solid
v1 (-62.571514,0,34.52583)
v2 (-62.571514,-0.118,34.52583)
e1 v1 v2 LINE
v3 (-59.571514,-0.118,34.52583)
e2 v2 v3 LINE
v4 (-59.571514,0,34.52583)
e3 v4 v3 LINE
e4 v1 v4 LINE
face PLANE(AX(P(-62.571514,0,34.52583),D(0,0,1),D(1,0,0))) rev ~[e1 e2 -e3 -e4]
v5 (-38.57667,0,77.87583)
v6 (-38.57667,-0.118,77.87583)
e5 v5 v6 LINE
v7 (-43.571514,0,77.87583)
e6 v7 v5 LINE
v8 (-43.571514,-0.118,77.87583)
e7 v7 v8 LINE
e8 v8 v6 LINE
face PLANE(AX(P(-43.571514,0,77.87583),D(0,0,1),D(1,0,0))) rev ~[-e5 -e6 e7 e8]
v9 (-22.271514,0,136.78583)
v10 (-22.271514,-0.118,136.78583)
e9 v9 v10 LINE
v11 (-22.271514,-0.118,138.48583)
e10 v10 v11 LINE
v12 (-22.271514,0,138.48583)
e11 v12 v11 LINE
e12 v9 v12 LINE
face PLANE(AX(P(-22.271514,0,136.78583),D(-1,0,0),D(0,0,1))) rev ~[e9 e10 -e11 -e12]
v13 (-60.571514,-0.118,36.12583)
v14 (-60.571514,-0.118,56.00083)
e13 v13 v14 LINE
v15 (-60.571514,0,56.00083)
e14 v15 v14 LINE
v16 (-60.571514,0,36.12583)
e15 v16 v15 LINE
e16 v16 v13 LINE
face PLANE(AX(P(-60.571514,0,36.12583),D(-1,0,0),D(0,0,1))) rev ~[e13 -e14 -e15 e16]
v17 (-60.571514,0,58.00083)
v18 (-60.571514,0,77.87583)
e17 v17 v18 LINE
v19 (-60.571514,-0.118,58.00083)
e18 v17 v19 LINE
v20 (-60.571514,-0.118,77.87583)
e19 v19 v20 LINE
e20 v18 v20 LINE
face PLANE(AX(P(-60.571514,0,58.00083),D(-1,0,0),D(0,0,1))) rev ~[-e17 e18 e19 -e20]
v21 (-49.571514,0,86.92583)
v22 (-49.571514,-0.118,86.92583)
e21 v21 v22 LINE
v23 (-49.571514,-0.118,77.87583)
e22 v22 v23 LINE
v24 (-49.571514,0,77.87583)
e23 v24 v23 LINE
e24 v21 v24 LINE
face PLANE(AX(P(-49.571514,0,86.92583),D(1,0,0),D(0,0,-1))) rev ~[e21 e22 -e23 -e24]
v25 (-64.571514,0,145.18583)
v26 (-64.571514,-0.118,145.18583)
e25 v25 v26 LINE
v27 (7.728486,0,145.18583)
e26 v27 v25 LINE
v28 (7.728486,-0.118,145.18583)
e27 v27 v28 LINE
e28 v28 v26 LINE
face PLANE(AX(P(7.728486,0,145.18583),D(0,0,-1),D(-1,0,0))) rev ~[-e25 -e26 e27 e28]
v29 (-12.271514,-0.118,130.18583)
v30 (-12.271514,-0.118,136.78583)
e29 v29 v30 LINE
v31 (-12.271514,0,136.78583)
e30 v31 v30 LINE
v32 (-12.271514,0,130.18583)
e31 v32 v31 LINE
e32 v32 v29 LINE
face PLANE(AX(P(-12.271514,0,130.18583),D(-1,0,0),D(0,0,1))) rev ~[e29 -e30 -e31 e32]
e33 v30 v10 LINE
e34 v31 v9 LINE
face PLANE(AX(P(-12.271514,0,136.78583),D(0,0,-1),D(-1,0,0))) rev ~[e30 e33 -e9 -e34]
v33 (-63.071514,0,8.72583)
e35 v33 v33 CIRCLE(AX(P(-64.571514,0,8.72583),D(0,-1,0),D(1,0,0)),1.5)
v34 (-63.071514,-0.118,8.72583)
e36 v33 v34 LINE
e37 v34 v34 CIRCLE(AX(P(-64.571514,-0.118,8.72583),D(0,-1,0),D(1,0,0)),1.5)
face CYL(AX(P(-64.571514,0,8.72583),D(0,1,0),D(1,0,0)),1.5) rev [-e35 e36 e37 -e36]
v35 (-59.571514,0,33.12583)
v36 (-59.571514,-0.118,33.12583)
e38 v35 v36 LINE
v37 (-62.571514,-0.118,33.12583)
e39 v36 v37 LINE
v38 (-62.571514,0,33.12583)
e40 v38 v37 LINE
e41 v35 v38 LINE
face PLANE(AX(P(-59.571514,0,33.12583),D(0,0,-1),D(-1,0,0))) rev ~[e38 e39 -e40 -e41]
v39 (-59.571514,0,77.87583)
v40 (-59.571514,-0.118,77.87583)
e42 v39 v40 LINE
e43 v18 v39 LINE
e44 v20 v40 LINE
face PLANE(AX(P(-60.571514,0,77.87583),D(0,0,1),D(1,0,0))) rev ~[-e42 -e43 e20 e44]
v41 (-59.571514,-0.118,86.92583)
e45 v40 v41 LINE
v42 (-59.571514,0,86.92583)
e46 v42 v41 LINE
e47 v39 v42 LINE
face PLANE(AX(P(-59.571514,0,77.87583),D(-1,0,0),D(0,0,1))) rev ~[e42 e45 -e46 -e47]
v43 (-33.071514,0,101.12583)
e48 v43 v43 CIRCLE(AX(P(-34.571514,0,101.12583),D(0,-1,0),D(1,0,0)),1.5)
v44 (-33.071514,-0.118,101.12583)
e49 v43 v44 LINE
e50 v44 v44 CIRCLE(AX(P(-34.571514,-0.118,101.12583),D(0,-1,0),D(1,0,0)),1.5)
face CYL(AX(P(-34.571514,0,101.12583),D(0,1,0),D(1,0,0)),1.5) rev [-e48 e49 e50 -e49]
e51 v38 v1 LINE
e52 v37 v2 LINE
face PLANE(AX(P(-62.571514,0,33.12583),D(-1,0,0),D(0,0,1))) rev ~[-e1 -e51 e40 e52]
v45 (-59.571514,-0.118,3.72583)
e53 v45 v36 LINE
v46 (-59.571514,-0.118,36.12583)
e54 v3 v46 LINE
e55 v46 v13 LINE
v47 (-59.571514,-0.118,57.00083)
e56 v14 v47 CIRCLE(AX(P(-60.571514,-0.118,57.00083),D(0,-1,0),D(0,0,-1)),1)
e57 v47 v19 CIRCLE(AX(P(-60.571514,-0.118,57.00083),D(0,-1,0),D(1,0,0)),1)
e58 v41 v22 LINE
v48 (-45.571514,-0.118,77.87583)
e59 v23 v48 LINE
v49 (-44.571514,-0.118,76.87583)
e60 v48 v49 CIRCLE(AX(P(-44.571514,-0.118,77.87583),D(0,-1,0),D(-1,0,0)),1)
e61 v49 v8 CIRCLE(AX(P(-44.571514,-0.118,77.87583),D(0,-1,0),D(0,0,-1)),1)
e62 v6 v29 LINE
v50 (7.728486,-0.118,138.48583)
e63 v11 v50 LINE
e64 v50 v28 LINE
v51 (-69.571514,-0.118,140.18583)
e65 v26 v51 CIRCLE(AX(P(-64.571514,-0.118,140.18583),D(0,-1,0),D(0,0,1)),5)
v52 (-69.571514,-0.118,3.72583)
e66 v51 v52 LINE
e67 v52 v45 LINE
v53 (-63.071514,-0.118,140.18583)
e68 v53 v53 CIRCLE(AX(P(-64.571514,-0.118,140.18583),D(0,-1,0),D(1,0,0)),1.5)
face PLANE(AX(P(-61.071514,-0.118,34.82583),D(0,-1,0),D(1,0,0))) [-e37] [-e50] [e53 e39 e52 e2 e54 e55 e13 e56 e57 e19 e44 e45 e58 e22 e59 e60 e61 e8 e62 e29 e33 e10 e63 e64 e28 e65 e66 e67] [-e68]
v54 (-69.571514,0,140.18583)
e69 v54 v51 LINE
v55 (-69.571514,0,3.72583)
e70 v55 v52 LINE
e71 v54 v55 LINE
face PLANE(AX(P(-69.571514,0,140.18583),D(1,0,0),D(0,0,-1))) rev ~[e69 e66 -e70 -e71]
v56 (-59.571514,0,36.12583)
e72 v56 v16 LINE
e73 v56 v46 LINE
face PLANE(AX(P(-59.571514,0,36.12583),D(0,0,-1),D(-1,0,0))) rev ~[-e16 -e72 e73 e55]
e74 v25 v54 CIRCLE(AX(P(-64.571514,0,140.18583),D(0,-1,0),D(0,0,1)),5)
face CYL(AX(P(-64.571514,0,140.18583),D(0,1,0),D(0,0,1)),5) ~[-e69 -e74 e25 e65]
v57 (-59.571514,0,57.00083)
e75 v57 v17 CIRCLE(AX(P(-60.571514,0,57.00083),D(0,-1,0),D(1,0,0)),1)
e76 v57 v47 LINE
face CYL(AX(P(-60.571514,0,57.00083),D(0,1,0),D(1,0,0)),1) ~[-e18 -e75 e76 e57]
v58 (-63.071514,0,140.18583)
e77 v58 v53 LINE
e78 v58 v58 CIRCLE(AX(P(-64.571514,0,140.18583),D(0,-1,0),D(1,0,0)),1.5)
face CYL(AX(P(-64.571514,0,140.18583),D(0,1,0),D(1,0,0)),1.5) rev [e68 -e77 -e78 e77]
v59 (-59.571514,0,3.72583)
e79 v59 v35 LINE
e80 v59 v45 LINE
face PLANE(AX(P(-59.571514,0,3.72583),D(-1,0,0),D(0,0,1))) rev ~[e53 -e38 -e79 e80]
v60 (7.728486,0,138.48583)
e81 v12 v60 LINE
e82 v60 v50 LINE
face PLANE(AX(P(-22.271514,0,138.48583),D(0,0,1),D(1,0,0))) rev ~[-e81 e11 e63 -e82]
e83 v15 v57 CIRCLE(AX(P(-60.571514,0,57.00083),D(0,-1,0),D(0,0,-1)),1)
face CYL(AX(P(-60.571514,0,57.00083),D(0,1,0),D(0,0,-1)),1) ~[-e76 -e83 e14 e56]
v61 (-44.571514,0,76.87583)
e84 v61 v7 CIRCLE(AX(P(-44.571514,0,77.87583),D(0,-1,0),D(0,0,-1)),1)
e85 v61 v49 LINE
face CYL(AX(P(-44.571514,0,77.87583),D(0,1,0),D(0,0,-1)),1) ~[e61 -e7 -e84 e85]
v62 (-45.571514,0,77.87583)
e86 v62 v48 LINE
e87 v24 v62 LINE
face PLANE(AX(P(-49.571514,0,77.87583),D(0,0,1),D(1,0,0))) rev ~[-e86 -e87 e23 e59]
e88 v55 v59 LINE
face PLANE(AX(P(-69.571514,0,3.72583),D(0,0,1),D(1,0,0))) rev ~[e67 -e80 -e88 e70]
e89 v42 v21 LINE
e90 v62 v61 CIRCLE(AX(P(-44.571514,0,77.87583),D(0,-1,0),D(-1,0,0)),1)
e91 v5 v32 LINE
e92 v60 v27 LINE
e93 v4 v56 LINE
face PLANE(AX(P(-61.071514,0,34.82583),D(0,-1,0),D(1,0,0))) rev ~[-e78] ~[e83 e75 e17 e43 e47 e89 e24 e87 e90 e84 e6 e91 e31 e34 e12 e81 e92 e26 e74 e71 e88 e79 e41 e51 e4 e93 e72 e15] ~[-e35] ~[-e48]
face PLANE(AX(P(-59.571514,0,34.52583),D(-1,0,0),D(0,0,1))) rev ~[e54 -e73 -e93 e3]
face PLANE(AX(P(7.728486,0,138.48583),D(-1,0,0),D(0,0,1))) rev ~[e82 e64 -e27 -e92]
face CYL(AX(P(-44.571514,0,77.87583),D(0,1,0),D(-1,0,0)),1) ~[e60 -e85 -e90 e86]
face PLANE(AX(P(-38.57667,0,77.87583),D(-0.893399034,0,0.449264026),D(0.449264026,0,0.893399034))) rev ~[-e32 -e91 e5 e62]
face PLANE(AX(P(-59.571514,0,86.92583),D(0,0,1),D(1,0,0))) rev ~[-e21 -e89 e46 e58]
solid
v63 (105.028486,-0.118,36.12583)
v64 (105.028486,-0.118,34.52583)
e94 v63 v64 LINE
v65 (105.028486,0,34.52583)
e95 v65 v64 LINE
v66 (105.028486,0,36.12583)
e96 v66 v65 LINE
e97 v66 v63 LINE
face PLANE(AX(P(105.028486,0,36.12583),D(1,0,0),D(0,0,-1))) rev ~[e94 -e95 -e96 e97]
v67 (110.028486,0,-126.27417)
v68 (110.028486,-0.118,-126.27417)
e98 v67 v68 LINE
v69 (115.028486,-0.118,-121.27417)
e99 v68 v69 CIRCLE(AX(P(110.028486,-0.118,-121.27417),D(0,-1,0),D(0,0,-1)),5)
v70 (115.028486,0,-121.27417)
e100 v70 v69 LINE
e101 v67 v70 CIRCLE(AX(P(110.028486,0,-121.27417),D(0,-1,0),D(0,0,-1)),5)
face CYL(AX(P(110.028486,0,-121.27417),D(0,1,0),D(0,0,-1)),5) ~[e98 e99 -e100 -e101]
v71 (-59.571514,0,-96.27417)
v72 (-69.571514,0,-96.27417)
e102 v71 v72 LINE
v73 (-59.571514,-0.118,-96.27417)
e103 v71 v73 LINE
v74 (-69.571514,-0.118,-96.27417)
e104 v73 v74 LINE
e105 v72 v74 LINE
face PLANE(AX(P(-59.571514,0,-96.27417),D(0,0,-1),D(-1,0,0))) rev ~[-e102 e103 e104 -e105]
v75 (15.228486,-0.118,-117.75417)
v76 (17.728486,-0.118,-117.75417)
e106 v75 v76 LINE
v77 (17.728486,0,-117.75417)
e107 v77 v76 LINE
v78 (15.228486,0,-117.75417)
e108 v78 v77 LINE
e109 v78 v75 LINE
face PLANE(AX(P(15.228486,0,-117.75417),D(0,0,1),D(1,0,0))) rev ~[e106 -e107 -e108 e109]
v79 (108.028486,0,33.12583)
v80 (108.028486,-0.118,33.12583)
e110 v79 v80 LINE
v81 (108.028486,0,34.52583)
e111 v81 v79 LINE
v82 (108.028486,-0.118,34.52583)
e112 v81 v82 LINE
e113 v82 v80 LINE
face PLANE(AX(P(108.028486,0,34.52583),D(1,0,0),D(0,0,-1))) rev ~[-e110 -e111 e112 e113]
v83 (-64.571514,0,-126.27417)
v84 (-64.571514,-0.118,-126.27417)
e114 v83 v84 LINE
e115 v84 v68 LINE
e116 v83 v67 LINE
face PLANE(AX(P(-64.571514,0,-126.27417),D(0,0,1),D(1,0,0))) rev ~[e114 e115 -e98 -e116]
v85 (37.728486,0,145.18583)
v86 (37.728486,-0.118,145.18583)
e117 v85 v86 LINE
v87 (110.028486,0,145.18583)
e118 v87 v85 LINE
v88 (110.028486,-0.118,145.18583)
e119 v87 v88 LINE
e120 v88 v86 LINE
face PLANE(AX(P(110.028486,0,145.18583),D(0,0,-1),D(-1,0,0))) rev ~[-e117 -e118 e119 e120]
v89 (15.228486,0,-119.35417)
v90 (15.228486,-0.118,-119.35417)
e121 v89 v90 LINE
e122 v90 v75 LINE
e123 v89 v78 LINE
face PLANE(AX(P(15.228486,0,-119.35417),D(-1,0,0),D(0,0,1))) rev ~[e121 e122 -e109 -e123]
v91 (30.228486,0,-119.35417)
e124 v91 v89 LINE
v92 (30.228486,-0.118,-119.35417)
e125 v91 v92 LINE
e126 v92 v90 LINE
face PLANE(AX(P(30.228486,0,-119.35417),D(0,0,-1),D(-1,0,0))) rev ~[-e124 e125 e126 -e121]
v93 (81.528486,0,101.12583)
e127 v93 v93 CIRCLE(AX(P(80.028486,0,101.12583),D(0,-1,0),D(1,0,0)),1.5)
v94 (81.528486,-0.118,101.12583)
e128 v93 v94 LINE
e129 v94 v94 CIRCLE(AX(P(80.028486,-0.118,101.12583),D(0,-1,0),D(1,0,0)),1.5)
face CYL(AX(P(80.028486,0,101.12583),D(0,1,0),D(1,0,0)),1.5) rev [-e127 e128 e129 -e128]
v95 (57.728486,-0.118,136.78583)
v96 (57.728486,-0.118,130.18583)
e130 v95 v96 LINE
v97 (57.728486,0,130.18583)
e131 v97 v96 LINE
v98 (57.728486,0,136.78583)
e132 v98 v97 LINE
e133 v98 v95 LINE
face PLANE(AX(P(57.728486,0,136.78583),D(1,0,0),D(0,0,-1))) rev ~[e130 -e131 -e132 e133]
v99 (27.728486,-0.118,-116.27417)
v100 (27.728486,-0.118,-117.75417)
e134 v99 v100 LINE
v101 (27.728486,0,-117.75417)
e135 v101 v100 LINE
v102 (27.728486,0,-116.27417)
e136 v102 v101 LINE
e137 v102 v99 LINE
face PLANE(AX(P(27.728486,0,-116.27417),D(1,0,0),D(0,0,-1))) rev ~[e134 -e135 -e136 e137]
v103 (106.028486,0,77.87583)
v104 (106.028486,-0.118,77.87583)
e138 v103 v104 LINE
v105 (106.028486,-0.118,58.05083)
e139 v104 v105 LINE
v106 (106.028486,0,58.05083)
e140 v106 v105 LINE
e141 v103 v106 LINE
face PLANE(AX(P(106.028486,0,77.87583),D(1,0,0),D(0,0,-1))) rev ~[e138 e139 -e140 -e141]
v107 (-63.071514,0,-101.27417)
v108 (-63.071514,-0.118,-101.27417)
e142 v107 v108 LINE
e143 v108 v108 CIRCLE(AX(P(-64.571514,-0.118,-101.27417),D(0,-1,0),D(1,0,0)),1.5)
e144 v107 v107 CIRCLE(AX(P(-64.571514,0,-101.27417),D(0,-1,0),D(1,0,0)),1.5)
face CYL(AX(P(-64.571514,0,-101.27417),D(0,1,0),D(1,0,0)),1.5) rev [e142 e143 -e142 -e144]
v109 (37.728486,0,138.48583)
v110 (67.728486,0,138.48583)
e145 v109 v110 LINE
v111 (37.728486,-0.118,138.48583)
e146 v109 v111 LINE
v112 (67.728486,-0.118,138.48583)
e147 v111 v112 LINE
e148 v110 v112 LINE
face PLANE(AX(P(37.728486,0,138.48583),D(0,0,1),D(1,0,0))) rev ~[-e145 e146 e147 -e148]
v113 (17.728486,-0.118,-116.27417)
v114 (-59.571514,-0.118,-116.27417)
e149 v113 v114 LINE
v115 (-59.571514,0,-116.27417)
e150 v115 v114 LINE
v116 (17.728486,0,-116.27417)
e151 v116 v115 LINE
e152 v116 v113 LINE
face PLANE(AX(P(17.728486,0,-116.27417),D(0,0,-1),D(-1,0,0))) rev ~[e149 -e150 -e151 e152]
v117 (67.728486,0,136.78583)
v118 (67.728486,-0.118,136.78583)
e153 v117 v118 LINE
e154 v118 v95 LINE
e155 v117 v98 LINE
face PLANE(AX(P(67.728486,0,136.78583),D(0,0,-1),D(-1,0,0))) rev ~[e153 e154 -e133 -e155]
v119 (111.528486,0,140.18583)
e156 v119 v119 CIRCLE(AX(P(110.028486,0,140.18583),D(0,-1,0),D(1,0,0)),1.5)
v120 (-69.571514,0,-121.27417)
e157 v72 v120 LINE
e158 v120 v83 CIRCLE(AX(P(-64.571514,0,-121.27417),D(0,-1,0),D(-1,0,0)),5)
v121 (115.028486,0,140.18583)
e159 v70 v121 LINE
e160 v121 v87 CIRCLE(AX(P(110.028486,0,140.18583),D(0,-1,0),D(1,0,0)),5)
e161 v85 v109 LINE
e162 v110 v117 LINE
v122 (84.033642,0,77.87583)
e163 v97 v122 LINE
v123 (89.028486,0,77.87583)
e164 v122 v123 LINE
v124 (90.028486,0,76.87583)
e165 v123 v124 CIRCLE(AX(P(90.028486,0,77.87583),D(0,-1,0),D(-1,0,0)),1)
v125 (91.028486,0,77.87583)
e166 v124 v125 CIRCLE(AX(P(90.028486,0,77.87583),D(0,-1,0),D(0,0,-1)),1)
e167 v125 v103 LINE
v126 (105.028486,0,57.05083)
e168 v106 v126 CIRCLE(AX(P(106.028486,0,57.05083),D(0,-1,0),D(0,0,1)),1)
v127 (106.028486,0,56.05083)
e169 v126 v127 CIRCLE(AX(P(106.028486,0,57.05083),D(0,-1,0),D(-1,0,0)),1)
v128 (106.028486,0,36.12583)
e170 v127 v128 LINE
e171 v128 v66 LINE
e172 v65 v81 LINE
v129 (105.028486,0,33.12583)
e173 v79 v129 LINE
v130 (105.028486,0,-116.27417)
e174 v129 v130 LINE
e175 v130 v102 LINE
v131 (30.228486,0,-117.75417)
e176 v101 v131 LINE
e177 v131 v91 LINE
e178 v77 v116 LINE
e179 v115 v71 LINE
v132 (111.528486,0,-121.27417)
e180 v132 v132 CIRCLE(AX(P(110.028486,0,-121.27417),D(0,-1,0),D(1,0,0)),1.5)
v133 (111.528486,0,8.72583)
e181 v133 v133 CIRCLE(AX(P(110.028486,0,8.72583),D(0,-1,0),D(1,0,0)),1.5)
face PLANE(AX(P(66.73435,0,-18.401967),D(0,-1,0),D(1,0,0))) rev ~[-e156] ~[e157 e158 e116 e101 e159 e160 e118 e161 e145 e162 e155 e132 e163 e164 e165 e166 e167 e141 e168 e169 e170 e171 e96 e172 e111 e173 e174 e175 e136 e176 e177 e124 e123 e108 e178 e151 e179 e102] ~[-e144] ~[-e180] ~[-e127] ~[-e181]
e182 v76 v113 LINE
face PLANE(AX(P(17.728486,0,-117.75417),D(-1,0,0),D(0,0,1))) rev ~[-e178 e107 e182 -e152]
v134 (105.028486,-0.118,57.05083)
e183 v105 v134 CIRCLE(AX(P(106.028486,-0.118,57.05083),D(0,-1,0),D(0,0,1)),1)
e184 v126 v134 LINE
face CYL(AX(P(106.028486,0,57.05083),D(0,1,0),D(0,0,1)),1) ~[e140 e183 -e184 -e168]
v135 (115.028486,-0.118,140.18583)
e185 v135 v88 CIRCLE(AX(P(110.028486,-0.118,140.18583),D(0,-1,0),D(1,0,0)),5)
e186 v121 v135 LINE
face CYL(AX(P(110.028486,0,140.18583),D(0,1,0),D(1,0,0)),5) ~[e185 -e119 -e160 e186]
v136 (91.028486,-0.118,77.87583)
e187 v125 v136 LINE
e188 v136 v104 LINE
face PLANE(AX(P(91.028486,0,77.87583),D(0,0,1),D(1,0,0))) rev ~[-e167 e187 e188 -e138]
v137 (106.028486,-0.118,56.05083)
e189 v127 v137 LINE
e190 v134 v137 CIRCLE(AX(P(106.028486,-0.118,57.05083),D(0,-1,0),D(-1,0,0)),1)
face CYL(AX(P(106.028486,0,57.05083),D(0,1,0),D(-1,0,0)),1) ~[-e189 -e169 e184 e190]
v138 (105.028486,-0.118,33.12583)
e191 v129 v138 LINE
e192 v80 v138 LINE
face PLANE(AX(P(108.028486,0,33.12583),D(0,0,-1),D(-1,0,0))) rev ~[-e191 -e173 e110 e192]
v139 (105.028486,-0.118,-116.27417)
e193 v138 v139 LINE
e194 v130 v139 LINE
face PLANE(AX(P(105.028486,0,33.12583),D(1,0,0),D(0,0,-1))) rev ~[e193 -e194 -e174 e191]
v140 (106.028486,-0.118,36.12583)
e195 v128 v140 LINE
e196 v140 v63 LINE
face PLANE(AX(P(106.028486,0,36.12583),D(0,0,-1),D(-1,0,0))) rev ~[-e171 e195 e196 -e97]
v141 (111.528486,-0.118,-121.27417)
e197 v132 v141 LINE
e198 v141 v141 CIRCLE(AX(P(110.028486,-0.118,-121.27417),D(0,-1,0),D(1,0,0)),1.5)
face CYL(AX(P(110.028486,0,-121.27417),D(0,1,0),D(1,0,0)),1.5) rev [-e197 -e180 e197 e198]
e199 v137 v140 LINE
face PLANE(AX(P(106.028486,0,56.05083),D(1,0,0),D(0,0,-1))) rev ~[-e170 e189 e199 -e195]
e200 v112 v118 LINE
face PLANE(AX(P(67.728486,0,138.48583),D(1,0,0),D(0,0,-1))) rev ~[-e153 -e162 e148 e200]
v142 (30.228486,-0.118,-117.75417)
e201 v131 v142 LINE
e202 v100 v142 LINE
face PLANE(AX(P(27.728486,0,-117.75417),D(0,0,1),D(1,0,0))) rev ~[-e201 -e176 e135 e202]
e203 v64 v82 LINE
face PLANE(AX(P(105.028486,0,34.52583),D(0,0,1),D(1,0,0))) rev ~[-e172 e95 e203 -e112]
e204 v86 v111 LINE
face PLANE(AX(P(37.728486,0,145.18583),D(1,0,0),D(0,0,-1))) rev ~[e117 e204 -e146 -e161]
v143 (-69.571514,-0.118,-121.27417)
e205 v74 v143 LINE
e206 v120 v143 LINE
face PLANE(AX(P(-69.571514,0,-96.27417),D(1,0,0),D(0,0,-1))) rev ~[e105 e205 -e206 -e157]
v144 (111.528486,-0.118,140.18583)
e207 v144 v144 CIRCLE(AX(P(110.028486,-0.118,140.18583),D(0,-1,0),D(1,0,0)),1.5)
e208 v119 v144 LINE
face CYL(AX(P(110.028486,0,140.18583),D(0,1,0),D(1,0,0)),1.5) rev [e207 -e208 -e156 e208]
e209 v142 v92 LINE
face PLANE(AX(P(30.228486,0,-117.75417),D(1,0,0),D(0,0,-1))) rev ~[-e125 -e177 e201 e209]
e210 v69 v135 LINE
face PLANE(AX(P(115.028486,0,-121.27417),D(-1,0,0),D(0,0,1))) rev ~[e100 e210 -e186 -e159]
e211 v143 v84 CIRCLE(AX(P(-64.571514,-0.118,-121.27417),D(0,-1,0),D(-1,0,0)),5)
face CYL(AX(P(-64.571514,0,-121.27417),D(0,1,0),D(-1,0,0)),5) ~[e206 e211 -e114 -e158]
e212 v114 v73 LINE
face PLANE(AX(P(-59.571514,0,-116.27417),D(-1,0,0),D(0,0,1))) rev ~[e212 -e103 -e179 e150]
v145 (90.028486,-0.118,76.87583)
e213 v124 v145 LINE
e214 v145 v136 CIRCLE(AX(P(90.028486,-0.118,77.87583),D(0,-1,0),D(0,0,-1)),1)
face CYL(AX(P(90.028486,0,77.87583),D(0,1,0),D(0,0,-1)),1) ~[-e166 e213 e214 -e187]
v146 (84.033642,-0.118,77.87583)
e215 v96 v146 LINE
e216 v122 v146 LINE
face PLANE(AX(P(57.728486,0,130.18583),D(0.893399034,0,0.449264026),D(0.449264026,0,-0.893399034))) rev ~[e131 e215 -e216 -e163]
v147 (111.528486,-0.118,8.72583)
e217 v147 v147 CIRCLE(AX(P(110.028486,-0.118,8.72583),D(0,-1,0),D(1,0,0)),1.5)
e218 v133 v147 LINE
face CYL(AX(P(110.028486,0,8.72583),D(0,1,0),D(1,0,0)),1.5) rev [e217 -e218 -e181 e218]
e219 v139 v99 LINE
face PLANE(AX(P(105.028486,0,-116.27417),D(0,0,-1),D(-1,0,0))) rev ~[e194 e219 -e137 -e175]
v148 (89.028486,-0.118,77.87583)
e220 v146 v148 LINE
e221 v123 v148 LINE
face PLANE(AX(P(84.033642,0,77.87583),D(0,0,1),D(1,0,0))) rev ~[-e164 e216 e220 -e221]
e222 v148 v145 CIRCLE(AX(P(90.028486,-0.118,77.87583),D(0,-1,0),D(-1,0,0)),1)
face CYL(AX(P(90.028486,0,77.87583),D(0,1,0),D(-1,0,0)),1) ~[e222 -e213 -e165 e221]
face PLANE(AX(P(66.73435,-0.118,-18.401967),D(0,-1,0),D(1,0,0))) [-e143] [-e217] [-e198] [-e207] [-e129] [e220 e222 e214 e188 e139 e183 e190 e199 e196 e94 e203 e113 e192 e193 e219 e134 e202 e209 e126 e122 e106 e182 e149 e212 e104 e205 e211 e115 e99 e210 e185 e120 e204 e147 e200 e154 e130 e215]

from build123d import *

# Parameters (mm, degrees)
F0_R     = 1.5
F0_W     = 3
F0_H     = 0.6
F1_DEPTH = 0.118


with BuildPart() as f1:
    # F0 (on Front) → F1 (new body)
    with BuildSketch(Plane.XZ):
        with BuildLine():
            Line((110.0284859866, 145.1858304774), (37.7284859866, 145.1858304774))
            Line((37.7284859866, 145.1858304774), (37.7284859866, 138.4858304774))
            Line((37.7284859866, 138.4858304774), (67.7284859866, 138.4858304774))
            Line((67.7284859866, 138.4858304774), (67.7284859866, 136.7858304774))
            Line((67.7284859866, 136.7858304774), (57.7284859866, 136.7858304774))
            Line((57.7284859866, 136.7858304774), (57.7284859866, 135.1858304774))
            Line((57.7284859866, 135.1858304774), (105.0284859866, 135.1858304774))
            Line((105.0284859866, 135.1858304774), (105.0284859866, 77.8758304774))
            Line((105.0284859866, 77.8758304774), (106.0284859866, 77.8758304774))
            Line((106.0284859866, 77.8758304774), (106.0284859866, 58.0508304774))
            ThreePointArc((106.0284859866, 58.0508304774), (106.7355927678, 57.7579372586), (107.0284859866, 57.0508304774))
            ThreePointArc((107.0284859866, 57.0508304774), (106.7355927678, 56.3437236962), (106.0284859866, 56.0508304774))
            Line((106.0284859866, 56.0508304774), (106.0284859866, 36.1258304774))
            Line((106.0284859866, 36.1258304774), (105.0284859866, 36.1258304774))
            Line((105.0284859866, 36.1258304774), (105.0284859866, 35.1258304774))
            Line((105.0284859866, 35.1258304774), (108.0284859866, 35.1258304774))
            Line((108.0284859866, 35.1258304774), (108.0284859866, 34.5258304774))
            Line((108.0284859866, 34.5258304774), (108.0284859866, 33.1258304774))
            Line((108.0284859866, 33.1258304774), (105.0284859866, 33.1258304774))
            Line((105.0284859866, 33.1258304774), (105.0284859866, 23.1258304774))
            Line((105.0284859866, 23.1258304774), (105.0284859866, -116.2741695226))
            Line((105.0284859866, -116.2741695226), (27.7284859866, -116.2741695226))
            Line((27.7284859866, -116.2741695226), (27.7284859866, -117.7541695226))
            Line((27.7284859866, -117.7541695226), (30.2284859866, -117.7541695226))
            Line((30.2284859866, -117.7541695226), (30.2284859866, -119.3541695226))
            Line((30.2284859866, -119.3541695226), (15.2284859866, -119.3541695226))
            Line((15.2284859866, -119.3541695226), (15.2284859866, -117.7541695226))
            Line((15.2284859866, -117.7541695226), (17.7284859866, -117.7541695226))
            Line((17.7284859866, -117.7541695226), (17.7284859866, -116.2741695226))
            Line((17.7284859866, -116.2741695226), (-59.5715140134, -116.2741695226))
            Line((-59.5715140134, -116.2741695226), (-59.5715140134, -96.2741695226))
            Line((-59.5715140134, -96.2741695226), (-69.5715140134, -96.2741695226))
            Line((-69.5715140134, -96.2741695226), (-69.5715140134, -121.2741695226))
            ThreePointArc((-69.5715140134, -121.2741695226), (-68.1070479193, -124.8097034285), (-64.5715140134, -126.2741695226))
            Line((-64.5715140134, -126.2741695226), (110.0284859866, -126.2741695226))
            ThreePointArc((110.0284859866, -126.2741695226), (113.5640198925, -124.8097034285), (115.0284859866, -121.2741695226))
            Line((115.0284859866, -121.2741695226), (115.0284859866, 140.1858304774))
            ThreePointArc((115.0284859866, 140.1858304774), (113.5640198925, 143.7213643833), (110.0284859866, 145.1858304774))
        make_face()
        with Locations((-64.5715140134, -101.2741695226)):
            Circle(F0_R, mode=Mode.SUBTRACT)
        with Locations((110.0284859866, -121.2741695226)):
            Circle(F0_R, mode=Mode.SUBTRACT)
        with Locations((110.0284859866, 8.7258304774)):
            Circle(F0_R, mode=Mode.SUBTRACT)
        with Locations((110.0284859866, 140.1858304774)):
            Circle(F0_R, mode=Mode.SUBTRACT)
        with Locations((106.5284859866, 34.8258304774)):
            Rectangle(F0_W, F0_H)
        with BuildLine():
            Line((105.0284859866, 135.1858304774), (57.7284859866, 135.1858304774))
            Line((57.7284859866, 135.1858304774), (57.7284859866, 130.1858304774))
            Line((57.7284859866, 130.1858304774), (84.0336422698, 77.8758304774))
            Line((84.0336422698, 77.8758304774), (89.0284859866, 77.8758304774))
            ThreePointArc((89.0284859866, 77.8758304774), (90.0284859866, 78.8758304774), (91.0284859866, 77.8758304774))
            Line((91.0284859866, 77.8758304774), (105.0284859866, 77.8758304774))
            Line((105.0284859866, 77.8758304774), (105.0284859866, 135.1858304774))
        make_face()
        with Locations((80.0284859866, 101.1258304774)):
            Circle(F0_R, mode=Mode.SUBTRACT)
        with BuildLine():
            ThreePointArc((107.0284859866, 57.0508304774), (106.7355927678, 57.7579372586), (106.0284859866, 58.0508304774))
            Line((106.0284859866, 58.0508304774), (106.0284859866, 56.0508304774))
            ThreePointArc((106.0284859866, 56.0508304774), (106.7355927678, 56.3437236962), (107.0284859866, 57.0508304774))
        make_face()
        with BuildLine():
            Line((106.0284859866, 56.0508304774), (106.0284859866, 58.0508304774))
            ThreePointArc((106.0284859866, 58.0508304774), (105.3213792054, 57.7579372586), (105.0284859866, 57.0508304774))
            ThreePointArc((105.0284859866, 57.0508304774), (105.3213792054, 56.3437236962), (106.0284859866, 56.0508304774))
        make_face()
        with BuildLine():
            ThreePointArc((90.0284859866, 76.8758304774), (90.7355927678, 77.1687236962), (91.0284859866, 77.8758304774))
            Line((91.0284859866, 77.8758304774), (89.0284859866, 77.8758304774))
            ThreePointArc((89.0284859866, 77.8758304774), (89.3213792054, 77.1687236962), (90.0284859866, 76.8758304774))
        make_face()
        with BuildLine():
            Line((89.0284859866, 77.8758304774), (91.0284859866, 77.8758304774))
            ThreePointArc((91.0284859866, 77.8758304774), (90.0284859866, 78.8758304774), (89.0284859866, 77.8758304774))
        make_face()
    extrude(amount=F1_DEPTH)


with BuildPart() as f1b:
    # F0 (on Front) → F1, piece 2 (new body)
    with BuildSketch(Plane.XZ):
        with Locations((-61.0715140134, 34.8258304774)):
            Rectangle(F0_W, F0_H)
        with BuildLine():
            Line((-60.5715140134, 56.0008304774), (-60.5715140134, 58.0008304774))
            ThreePointArc((-60.5715140134, 58.0008304774), (-61.5715140134, 57.0008304774), (-60.5715140134, 56.0008304774))
        make_face()
        with BuildLine():
            ThreePointArc((-60.5715140134, 56.0008304774), (-59.8644072322, 56.2937236962), (-59.5715140134, 57.0008304774))
            ThreePointArc((-59.5715140134, 57.0008304774), (-59.8644072322, 57.7079372586), (-60.5715140134, 58.0008304774))
            Line((-60.5715140134, 58.0008304774), (-60.5715140134, 56.0008304774))
        make_face()
        with BuildLine():
            Line((7.7284859866, 145.1858304774), (-64.5715140134, 145.1858304774))
            ThreePointArc((-64.5715140134, 145.1858304774), (-68.1070479193, 143.7213643833), (-69.5715140134, 140.1858304774))
            Line((-69.5715140134, 140.1858304774), (-69.5715140134, 3.7258304774))
            Line((-69.5715140134, 3.7258304774), (-59.5715140134, 3.7258304774))
            Line((-59.5715140134, 3.7258304774), (-59.5715140134, 23.1258304774))
            Line((-59.5715140134, 23.1258304774), (-59.5715140134, 33.1258304774))
            Line((-59.5715140134, 33.1258304774), (-62.5715140134, 33.1258304774))
            Line((-62.5715140134, 33.1258304774), (-62.5715140134, 34.5258304774))
            Line((-62.5715140134, 34.5258304774), (-62.5715140134, 35.1258304774))
            Line((-62.5715140134, 35.1258304774), (-59.5715140134, 35.1258304774))
            Line((-59.5715140134, 35.1258304774), (-59.5715140134, 36.1258304774))
            Line((-59.5715140134, 36.1258304774), (-60.5715140134, 36.1258304774))
            Line((-60.5715140134, 36.1258304774), (-60.5715140134, 56.0008304774))
            ThreePointArc((-60.5715140134, 56.0008304774), (-61.5715140134, 57.0008304774), (-60.5715140134, 58.0008304774))
            Line((-60.5715140134, 58.0008304774), (-60.5715140134, 77.8758304774))
            Line((-60.5715140134, 77.8758304774), (-59.5715140134, 77.8758304774))
            Line((-59.5715140134, 77.8758304774), (-59.5715140134, 86.9258304774))
            Line((-59.5715140134, 86.9258304774), (-59.5715140134, 135.1858304774))
            Line((-59.5715140134, 135.1858304774), (-12.2715140134, 135.1858304774))
            Line((-12.2715140134, 135.1858304774), (-12.2715140134, 136.7858304774))
            Line((-12.2715140134, 136.7858304774), (-22.2715140134, 136.7858304774))
            Line((-22.2715140134, 136.7858304774), (-22.2715140134, 138.4858304774))
            Line((-22.2715140134, 138.4858304774), (7.7284859866, 138.4858304774))
            Line((7.7284859866, 138.4858304774), (7.7284859866, 145.1858304774))
        make_face()
        with Locations((-64.5715140134, 8.7258304774)):
            Circle(F0_R, mode=Mode.SUBTRACT)
        with Locations((-64.5715140134, 140.1858304774)):
            Circle(F0_R, mode=Mode.SUBTRACT)
        with BuildLine():
            Line((-12.2715140134, 130.1858304774), (-12.2715140134, 135.1858304774))
            Line((-12.2715140134, 135.1858304774), (-59.5715140134, 135.1858304774))
            Line((-59.5715140134, 135.1858304774), (-59.5715140134, 86.9258304774))
            Line((-59.5715140134, 86.9258304774), (-49.5715140134, 86.9258304774))
            Line((-49.5715140134, 86.9258304774), (-49.5715140134, 77.8758304774))
            Line((-49.5715140134, 77.8758304774), (-45.5715140134, 77.8758304774))
            ThreePointArc((-45.5715140134, 77.8758304774), (-44.5715140134, 78.8758304774), (-43.5715140134, 77.8758304774))
            Line((-43.5715140134, 77.8758304774), (-38.5766702966, 77.8758304774))
            Line((-38.5766702966, 77.8758304774), (-12.2715140134, 130.1858304774))
        make_face()
        with Locations((-34.5715140134, 101.1258304774)):
            Circle(F0_R, mode=Mode.SUBTRACT)
        with BuildLine():
            ThreePointArc((-44.5715140134, 76.8758304774), (-43.8644072322, 77.1687236962), (-43.5715140134, 77.8758304774))
            Line((-43.5715140134, 77.8758304774), (-45.5715140134, 77.8758304774))
            ThreePointArc((-45.5715140134, 77.8758304774), (-45.2786207946, 77.1687236962), (-44.5715140134, 76.8758304774))
        make_face()
        with BuildLine():
            Line((-45.5715140134, 77.8758304774), (-43.5715140134, 77.8758304774))
            ThreePointArc((-43.5715140134, 77.8758304774), (-44.5715140134, 78.8758304774), (-45.5715140134, 77.8758304774))
        make_face()
    extrude(amount=F1_DEPTH)


solid = Compound([f1.part, f1b.part])
